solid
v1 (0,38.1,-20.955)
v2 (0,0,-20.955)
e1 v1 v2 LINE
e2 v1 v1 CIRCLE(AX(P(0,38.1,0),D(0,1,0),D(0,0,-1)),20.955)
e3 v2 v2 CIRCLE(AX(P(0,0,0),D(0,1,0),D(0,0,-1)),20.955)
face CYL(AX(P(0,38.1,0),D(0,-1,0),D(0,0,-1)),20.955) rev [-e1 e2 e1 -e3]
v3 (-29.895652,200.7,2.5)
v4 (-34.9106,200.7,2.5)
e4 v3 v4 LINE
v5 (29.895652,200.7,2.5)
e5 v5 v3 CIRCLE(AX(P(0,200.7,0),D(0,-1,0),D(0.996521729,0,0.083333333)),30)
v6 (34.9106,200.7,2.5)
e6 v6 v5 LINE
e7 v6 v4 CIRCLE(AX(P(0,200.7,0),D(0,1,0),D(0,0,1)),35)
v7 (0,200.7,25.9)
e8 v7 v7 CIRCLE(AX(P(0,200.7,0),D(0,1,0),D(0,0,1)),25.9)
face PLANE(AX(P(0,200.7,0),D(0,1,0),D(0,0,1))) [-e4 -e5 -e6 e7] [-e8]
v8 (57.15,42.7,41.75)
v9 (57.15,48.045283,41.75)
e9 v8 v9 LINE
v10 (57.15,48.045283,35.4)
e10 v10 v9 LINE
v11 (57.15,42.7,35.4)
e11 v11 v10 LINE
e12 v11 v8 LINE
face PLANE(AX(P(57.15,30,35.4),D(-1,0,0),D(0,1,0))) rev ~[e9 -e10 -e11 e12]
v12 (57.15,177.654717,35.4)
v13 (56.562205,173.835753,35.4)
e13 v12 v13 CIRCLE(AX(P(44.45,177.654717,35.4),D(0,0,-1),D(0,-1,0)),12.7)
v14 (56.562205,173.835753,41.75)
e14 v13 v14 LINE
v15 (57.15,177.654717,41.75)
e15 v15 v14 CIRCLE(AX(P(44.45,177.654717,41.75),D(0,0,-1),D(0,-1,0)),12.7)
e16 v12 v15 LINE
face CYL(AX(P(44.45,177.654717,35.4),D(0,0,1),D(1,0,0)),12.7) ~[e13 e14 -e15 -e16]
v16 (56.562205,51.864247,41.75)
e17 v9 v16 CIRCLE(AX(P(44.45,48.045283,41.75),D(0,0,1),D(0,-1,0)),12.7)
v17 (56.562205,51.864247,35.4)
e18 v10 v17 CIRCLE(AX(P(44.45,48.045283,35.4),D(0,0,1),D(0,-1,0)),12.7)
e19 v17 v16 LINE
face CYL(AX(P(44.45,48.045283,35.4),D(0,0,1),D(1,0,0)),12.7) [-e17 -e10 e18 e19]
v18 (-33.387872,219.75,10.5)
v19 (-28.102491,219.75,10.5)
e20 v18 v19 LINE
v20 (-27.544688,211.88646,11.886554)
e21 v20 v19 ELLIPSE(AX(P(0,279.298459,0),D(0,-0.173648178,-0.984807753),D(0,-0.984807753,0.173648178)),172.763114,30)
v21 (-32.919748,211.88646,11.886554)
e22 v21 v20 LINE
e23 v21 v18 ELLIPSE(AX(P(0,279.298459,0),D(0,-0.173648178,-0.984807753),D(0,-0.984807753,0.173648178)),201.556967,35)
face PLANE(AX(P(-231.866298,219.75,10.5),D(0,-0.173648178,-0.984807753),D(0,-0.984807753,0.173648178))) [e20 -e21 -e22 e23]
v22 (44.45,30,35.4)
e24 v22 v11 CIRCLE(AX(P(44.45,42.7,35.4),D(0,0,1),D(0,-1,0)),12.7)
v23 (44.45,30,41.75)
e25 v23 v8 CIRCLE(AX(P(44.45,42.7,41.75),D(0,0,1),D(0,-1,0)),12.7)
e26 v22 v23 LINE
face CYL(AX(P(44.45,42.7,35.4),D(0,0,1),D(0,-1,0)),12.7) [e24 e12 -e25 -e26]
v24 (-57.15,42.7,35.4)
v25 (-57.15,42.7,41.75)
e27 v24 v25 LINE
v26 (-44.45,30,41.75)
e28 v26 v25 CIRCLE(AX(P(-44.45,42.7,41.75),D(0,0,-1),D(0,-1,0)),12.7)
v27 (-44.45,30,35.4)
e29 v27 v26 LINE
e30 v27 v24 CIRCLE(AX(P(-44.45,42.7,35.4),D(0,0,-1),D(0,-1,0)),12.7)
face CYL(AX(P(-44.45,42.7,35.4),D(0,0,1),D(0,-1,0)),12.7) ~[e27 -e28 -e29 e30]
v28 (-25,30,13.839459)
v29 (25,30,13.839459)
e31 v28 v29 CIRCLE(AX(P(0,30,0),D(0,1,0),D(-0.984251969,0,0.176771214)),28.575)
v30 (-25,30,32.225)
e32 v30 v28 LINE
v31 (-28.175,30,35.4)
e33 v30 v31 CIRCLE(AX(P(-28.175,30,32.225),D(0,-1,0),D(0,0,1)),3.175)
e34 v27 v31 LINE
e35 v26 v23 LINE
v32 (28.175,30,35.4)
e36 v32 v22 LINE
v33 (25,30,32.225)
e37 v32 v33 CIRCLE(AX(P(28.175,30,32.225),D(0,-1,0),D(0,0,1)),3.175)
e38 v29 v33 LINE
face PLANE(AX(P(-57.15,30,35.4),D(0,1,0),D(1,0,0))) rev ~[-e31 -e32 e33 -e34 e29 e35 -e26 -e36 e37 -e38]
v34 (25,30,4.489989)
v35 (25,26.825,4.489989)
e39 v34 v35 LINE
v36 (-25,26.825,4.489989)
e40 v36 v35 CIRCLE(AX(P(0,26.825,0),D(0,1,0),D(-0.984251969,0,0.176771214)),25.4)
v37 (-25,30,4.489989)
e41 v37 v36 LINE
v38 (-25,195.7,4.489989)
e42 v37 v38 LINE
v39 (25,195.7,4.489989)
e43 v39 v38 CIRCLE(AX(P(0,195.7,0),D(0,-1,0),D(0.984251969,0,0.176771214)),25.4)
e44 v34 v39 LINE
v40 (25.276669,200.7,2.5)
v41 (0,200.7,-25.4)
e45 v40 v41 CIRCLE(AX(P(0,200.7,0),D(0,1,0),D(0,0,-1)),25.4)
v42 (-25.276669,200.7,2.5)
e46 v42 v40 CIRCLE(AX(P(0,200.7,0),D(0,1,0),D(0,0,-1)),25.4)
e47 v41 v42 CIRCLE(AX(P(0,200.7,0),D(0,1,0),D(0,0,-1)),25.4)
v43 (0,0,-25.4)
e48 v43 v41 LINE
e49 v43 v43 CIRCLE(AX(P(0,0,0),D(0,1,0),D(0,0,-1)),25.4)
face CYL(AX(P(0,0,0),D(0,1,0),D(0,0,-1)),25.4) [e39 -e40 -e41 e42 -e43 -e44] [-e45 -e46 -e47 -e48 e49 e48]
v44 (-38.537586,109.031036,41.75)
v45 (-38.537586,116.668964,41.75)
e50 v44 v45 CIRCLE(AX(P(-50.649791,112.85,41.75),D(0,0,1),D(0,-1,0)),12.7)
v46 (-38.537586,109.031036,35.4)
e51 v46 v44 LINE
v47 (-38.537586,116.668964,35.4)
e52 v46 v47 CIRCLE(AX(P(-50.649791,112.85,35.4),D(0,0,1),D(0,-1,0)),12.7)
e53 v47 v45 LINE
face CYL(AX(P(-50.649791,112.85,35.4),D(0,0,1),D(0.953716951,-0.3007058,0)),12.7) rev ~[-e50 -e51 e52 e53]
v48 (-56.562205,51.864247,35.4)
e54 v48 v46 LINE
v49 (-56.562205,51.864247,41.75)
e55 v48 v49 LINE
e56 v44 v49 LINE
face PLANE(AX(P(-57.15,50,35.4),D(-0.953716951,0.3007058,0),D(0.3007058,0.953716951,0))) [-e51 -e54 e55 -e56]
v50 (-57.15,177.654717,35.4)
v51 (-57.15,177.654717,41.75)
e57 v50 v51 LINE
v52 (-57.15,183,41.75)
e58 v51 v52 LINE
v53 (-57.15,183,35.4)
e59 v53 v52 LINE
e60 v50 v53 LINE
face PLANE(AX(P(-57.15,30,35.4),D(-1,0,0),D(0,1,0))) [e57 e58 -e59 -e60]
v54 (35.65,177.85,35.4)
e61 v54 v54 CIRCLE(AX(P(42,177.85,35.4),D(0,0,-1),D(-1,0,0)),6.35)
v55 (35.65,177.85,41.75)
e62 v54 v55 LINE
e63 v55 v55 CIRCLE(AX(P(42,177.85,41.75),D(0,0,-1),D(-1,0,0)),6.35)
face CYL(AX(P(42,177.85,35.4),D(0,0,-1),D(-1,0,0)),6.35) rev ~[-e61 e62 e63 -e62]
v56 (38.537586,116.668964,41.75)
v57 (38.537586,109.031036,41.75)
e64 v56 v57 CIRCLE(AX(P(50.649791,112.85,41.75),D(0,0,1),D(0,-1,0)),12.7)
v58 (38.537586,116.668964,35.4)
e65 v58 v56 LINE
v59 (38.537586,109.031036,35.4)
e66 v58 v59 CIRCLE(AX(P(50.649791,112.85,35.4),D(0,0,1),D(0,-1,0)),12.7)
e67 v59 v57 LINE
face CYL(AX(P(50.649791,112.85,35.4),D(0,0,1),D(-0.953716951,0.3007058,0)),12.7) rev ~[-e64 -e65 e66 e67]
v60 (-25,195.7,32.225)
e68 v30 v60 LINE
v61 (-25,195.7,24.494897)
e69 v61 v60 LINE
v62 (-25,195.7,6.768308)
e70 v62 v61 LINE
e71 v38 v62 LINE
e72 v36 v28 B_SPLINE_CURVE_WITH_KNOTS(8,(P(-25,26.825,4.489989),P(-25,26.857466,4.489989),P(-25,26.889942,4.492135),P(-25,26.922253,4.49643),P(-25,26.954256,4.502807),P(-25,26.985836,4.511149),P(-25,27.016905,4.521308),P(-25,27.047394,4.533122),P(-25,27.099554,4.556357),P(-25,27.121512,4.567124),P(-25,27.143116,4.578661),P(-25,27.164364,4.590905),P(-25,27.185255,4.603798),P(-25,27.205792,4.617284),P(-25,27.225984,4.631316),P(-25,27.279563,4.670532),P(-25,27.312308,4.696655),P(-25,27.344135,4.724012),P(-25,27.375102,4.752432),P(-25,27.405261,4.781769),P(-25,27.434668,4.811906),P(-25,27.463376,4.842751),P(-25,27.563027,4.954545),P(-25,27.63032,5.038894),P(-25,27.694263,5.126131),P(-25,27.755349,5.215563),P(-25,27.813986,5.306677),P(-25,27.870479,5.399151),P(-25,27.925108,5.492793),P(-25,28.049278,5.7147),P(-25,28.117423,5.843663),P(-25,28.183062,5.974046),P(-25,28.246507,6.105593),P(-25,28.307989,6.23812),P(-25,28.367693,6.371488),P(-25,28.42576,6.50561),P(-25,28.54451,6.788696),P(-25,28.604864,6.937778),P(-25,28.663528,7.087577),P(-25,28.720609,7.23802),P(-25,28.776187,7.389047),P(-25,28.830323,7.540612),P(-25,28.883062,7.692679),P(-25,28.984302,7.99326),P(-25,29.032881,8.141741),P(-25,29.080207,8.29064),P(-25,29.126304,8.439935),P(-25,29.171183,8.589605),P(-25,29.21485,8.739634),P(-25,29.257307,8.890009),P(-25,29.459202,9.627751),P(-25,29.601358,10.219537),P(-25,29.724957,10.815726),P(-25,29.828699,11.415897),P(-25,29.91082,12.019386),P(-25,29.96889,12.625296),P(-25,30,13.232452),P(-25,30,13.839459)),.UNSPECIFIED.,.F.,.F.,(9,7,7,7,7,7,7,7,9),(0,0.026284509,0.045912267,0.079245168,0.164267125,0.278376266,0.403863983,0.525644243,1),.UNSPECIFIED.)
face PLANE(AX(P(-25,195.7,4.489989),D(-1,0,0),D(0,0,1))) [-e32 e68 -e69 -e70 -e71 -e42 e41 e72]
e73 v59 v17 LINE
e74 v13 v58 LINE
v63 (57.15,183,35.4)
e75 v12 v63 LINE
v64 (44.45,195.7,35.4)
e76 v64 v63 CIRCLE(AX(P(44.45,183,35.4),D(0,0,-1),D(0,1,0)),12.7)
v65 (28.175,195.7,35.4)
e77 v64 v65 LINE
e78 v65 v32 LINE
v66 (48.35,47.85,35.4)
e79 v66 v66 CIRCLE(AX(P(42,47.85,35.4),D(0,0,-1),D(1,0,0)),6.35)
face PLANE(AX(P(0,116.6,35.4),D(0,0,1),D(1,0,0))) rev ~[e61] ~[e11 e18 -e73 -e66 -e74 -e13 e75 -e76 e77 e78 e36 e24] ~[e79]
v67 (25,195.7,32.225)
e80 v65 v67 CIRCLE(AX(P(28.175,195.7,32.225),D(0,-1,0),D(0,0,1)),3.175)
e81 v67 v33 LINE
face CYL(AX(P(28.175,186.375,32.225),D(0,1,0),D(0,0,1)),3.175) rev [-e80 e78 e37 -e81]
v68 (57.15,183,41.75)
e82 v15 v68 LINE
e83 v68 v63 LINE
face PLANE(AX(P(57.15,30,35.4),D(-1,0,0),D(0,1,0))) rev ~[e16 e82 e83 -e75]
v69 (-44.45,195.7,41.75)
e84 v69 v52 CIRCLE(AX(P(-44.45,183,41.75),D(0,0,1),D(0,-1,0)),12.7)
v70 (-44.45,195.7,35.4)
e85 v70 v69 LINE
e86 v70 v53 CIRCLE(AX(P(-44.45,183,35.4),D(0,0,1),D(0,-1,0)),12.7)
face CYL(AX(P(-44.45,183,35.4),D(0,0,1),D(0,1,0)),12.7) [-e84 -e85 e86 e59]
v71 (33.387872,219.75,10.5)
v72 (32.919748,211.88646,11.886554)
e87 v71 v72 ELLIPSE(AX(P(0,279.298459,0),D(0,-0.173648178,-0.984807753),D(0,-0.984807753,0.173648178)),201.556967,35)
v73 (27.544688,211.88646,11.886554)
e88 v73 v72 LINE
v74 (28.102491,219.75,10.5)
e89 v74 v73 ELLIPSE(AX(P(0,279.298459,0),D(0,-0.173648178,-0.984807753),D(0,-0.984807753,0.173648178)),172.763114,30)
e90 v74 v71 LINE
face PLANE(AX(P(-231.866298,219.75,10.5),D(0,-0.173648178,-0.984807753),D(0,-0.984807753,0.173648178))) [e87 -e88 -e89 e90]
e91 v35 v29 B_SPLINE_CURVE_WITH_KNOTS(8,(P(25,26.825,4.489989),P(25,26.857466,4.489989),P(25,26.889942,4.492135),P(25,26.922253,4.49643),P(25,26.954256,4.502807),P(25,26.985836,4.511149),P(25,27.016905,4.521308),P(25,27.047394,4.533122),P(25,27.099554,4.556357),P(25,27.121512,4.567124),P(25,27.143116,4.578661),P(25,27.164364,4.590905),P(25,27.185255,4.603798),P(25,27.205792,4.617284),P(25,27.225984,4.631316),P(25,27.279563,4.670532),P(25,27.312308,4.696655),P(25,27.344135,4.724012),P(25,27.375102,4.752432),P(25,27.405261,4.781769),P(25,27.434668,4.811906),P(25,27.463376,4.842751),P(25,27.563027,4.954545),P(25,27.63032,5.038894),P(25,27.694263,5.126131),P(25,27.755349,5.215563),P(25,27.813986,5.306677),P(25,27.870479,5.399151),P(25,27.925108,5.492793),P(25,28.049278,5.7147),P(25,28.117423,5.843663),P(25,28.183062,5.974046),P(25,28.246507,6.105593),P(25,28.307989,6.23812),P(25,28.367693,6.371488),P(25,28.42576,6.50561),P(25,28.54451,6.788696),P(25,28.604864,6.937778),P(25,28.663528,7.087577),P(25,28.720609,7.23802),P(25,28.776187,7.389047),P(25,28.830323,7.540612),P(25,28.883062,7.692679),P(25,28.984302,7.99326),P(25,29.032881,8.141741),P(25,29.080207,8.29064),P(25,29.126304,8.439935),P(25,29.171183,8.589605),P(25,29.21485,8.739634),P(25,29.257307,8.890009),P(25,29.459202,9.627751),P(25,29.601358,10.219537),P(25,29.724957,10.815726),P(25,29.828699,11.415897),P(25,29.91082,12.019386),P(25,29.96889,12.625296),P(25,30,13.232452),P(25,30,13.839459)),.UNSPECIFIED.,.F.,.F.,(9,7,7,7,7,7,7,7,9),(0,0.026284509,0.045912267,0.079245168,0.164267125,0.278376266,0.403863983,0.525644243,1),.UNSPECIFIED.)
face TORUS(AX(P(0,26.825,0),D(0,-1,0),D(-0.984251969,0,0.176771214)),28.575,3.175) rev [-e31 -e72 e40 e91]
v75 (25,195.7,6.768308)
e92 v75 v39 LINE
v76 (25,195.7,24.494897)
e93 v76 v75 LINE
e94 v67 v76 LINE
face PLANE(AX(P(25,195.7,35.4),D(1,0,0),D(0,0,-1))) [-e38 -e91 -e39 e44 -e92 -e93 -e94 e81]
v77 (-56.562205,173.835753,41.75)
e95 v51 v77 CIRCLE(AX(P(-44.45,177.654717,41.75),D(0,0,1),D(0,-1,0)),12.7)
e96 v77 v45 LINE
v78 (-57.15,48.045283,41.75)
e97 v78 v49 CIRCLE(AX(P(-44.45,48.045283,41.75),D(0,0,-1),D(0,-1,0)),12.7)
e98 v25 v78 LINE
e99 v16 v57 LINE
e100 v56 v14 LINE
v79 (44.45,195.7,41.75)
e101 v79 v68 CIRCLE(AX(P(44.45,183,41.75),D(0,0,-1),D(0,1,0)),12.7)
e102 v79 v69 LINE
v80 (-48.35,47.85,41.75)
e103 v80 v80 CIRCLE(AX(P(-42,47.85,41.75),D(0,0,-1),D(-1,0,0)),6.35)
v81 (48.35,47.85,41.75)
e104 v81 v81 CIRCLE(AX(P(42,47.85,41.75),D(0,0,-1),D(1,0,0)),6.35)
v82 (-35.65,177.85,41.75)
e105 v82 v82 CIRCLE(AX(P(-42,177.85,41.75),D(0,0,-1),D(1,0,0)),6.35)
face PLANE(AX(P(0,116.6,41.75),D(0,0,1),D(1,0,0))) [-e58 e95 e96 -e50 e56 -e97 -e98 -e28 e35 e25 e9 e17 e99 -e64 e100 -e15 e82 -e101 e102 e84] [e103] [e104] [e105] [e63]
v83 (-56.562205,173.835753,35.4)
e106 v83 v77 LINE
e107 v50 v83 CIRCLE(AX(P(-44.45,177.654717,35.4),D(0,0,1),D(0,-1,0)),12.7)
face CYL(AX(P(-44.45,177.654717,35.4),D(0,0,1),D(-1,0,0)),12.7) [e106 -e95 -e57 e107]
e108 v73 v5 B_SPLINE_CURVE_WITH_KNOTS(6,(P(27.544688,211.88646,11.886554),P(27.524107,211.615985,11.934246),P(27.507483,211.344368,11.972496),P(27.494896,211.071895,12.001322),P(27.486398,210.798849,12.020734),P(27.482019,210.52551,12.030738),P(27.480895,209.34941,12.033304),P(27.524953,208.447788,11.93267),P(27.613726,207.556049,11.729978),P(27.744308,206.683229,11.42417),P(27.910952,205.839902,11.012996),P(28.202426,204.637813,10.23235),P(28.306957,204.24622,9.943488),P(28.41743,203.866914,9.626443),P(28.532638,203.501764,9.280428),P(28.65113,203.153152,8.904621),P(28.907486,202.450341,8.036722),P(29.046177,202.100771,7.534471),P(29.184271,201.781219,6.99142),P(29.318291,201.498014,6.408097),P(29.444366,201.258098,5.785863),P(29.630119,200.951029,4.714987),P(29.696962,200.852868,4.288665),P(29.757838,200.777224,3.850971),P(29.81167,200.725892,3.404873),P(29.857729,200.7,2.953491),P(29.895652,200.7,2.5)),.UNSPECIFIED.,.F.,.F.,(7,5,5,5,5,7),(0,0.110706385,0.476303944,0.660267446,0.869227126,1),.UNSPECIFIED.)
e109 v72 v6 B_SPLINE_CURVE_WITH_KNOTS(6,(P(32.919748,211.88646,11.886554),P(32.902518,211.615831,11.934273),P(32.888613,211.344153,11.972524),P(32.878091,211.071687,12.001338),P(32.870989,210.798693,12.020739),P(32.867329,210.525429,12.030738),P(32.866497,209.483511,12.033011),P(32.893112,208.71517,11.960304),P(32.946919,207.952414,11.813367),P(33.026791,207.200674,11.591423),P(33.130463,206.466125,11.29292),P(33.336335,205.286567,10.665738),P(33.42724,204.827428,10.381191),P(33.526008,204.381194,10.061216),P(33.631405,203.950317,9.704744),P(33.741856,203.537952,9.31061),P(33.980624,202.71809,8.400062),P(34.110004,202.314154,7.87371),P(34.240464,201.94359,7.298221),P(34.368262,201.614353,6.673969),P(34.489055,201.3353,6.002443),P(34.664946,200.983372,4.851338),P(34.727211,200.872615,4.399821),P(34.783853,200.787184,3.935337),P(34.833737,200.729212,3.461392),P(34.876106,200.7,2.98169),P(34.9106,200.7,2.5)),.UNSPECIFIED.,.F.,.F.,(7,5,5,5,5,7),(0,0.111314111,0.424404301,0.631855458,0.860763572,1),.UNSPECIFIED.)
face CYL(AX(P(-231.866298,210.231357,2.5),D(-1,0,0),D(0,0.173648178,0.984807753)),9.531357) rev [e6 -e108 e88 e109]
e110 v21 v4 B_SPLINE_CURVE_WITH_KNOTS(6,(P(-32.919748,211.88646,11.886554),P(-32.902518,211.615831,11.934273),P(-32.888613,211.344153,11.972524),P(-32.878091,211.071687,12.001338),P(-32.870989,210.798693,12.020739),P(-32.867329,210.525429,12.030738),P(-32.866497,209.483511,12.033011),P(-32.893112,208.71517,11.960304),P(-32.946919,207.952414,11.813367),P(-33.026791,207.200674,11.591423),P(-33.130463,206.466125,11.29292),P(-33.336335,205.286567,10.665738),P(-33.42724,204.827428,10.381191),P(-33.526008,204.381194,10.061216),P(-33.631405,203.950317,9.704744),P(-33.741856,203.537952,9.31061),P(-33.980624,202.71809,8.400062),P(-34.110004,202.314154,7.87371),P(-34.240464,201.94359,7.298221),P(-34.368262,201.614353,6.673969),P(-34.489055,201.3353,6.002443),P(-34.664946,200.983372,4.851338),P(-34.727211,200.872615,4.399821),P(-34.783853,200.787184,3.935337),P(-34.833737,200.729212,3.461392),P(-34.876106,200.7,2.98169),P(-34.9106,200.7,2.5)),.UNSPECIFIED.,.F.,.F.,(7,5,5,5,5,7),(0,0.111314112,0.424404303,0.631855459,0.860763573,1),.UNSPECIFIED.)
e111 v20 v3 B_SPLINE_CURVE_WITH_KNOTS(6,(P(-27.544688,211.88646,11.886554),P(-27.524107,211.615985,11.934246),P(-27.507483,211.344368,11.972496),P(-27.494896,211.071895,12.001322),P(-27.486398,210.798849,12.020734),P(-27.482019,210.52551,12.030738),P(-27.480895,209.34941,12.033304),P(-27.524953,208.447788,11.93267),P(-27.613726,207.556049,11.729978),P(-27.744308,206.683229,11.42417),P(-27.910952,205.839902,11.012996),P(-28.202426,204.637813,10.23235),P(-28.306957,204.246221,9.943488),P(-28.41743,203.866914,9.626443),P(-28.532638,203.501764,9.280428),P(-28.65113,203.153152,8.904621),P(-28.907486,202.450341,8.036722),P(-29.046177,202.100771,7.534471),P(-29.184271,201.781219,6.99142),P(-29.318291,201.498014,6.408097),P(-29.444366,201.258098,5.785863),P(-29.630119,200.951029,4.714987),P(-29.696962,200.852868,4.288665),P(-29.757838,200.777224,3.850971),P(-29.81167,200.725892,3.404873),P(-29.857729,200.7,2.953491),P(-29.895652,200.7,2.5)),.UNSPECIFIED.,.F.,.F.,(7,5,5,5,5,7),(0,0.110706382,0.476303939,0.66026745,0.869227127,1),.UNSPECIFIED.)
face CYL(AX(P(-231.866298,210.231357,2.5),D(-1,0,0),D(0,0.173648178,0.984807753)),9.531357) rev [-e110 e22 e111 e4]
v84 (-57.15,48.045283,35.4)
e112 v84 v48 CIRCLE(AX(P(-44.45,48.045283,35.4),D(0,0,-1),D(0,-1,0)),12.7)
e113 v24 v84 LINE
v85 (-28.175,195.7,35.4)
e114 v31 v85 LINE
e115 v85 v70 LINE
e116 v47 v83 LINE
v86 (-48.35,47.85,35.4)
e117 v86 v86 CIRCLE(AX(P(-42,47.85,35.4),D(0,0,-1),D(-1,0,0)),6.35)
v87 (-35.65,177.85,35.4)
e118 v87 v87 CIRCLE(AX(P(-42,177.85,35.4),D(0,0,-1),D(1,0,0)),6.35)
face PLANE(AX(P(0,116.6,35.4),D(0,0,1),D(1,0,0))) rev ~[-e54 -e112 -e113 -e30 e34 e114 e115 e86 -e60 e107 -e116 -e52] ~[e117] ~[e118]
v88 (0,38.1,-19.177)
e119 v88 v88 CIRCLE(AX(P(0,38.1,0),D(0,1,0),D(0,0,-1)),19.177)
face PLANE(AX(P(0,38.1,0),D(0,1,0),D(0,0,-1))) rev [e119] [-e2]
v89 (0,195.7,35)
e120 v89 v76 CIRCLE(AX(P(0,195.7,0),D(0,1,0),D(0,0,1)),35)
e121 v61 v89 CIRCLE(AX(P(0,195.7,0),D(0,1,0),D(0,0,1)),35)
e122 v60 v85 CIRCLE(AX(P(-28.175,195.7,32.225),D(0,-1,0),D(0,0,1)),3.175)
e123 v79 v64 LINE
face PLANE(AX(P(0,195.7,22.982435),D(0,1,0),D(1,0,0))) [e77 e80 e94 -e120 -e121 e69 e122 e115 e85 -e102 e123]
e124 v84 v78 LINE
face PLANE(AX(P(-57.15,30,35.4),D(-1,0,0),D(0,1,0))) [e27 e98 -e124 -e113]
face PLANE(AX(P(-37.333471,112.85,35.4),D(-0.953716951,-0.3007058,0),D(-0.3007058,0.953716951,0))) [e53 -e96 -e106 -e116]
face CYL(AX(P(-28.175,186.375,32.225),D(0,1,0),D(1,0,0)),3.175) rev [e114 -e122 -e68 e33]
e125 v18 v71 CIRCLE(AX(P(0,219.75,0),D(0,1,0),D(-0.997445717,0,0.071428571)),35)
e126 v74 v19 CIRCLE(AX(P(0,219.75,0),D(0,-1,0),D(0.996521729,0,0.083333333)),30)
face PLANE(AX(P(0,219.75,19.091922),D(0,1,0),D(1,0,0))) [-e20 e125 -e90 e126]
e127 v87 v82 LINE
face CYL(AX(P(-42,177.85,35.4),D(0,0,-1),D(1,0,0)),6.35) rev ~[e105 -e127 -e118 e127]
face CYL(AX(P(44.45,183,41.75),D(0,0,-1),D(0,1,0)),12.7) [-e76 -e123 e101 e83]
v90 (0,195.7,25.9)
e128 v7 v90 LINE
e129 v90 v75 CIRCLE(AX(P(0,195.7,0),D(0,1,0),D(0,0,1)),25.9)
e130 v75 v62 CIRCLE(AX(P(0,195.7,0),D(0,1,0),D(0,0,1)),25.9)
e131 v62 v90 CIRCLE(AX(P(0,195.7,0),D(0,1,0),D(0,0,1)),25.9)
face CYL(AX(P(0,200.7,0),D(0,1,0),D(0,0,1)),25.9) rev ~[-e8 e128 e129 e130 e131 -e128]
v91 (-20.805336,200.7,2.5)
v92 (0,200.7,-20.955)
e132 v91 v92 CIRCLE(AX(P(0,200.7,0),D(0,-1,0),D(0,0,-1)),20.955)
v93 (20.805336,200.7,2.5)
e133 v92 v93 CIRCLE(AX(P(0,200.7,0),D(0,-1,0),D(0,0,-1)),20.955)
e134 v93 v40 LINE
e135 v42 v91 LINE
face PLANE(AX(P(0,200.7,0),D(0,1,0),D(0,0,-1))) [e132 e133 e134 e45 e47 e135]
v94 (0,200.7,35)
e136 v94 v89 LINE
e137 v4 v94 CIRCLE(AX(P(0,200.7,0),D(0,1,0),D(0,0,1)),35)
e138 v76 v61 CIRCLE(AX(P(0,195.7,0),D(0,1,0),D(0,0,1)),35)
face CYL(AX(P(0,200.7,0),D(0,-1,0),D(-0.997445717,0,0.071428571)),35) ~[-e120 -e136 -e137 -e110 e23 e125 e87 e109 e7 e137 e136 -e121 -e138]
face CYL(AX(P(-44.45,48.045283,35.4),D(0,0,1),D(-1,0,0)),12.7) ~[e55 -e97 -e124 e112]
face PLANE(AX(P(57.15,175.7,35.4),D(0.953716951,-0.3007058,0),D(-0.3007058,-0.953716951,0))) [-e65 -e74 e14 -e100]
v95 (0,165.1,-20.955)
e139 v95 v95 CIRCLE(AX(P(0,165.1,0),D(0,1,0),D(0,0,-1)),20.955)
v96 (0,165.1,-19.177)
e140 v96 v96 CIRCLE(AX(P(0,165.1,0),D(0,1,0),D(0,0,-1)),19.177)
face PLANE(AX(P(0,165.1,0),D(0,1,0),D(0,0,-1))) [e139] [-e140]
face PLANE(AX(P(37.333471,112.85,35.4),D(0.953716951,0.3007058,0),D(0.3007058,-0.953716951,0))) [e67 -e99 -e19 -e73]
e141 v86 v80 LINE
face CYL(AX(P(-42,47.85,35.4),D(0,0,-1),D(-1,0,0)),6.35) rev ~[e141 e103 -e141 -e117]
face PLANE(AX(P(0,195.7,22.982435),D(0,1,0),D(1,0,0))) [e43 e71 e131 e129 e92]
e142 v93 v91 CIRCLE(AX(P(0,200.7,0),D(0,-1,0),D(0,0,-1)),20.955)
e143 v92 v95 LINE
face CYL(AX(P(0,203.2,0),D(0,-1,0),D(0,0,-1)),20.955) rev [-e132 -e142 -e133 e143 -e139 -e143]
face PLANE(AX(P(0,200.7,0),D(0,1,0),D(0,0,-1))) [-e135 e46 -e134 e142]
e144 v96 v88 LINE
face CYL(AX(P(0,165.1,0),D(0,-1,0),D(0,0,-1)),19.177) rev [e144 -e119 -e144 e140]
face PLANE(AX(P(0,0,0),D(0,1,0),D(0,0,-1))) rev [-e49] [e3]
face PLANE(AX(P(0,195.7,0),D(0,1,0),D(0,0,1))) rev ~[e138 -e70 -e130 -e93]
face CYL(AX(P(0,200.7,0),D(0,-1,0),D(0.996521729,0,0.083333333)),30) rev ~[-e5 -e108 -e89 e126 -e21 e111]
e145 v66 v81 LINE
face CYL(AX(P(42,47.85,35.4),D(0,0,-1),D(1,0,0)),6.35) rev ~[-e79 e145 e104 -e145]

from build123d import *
from build123d.topology import SkipClean

# Parameters (mm, degrees)
BOSS_EXTRUDE1_DEPTH      = 3.175
BOSS_EXTRUDE4_START      = 150.025
BOSS_EXTRUDE4_DEPTH      = 150.025
BOSS_EXTRUDE5_START      = 3.175
BOSS_EXTRUDE5_DEPTH      = 3.175
SKETCH18_W               = 114.3
SKETCH18_H               = 173.2
BOSS_EXTRUDE6_DEPTH      = 6.35
BOSS_EXTRUDE9_DEPTH      = 1.5875
BOSS_EXTRUDE9_DEPTH_BACK = 1.5875
SKETCH26_R               = 35
SKETCH26_R_2             = 25.899999994
BOSS_EXTRUDE7_DEPTH      = 5
BOSS_EXTRUDE8_DEPTH      = 19.05
CUT_EXTRUDE3_DEPTH       = 231.866297886
CUT_EXTRUDE3_DEPTH_BACK  = 231.866297886
BOSS_EXTRUDE10_START     = 150.025
BOSS_EXTRUDE10_DEPTH     = 150.025
BOSS_EXTRUDE11_START     = 9.325
BOSS_EXTRUDE11_DEPTH     = 9.325
SKETCH36_W               = 6.35
SKETCH36_H               = 7.5
CUT_EXTRUDE4_DEPTH       = 252.192386516
FILLET1_R                = 3.175
CUT_EXTRUDE5_DEPTH       = 238.723253055
FILLET2_R                = 12.7
SKETCH38_R               = 6.35
CUT_EXTRUDE6_DEPTH       = 238.723253055
SKETCH41_R               = 25.399999994
CUT_EXTRUDE8_DEPTH       = 213.813709708


with BuildPart() as part:
    # Sketch12 → Revolve1 (revolve)
    with BuildSketch(Plane.XY, mode=Mode.PRIVATE) as revolve1_sk:
        Polygon((-25.399999994, 0), (-25.399999994, 203.2), (-20.955, 203.2), (-20.955, 165.1), (-19.177, 165.1), (-19.177, 38.1), (-20.955, 38.1), (-20.955, 0), align=None)
    revolve(revolve1_sk.sketch.rotate(Axis((0, 0, 0), (0, 1, 0)), 270), axis=Axis((0, 0, 0), (0, 1, 0)))



with BuildPart() as body_2:
    # Sketch14 → Boss-Extrude1 (new body)
    with BuildSketch(Plane(origin=(0, 30, 0), x_dir=(-1, 0, 0), z_dir=(0, -1, 0))):
        with BuildLine():
            Line((-25, -4.489988829), (-25, -35.399999994))
            Line((-25, -35.399999994), (25, -35.399999994))
            Line((25, -35.399999994), (25, -4.489988829))
            ThreePointArc((25, -4.489988829), (0, -25.399999994), (-25, -4.489988829))
        make_face()
    extrude(amount=-BOSS_EXTRUDE1_DEPTH)

    # Sketch15 → Boss-Extrude4 (add)
    with BuildSketch(Plane(origin=(0, 33.175, 0), x_dir=(1, 0, 0), z_dir=(0, 1, 0)).offset(BOSS_EXTRUDE4_START)):
        with BuildLine():
            Line((-1.5875, -25.350342077), (-1.5875, -35.399999994))
            Line((-1.5875, -35.399999994), (1.5875, -35.399999994))
            Line((1.5875, -35.399999994), (1.5875, -25.350342077))
            ThreePointArc((1.5875, -25.350342077), (0, -25.399999994), (-1.5875, -25.350342077))
        make_face()
    extrude(amount=-BOSS_EXTRUDE4_DEPTH)

    # Sketch17 → Boss-Extrude5 (add)
    with BuildSketch(Plane(origin=(0, 183.2, 0), x_dir=(1, 0, 0), z_dir=(0, 1, 0)).offset(BOSS_EXTRUDE5_START)):
        with BuildLine():
            Line((25, -35.399999994), (25, -4.489988829))
            ThreePointArc((25, -4.489988829), (0, -25.399999994), (-25, -4.489988829))
            Line((-25, -4.489988829), (-25, -35.399999994))
            Line((-25, -35.399999994), (25, -35.399999994))
        make_face()
    extrude(amount=-BOSS_EXTRUDE5_DEPTH)

    # Sketch18 → Boss-Extrude6 (add)
    with BuildSketch(Plane.XY.offset(35.399999994)):
        with Locations((0, 116.6)):
            Rectangle(SKETCH18_W, SKETCH18_H)
    extrude(amount=BOSS_EXTRUDE6_DEPTH)


with BuildPart() as part_1:
    add(part.part)

    add(body_2.part)  # Boss-Extrude9 merges body 2
    # Sketch30 → Boss-Extrude9 (add, two sides: drawn at the far end of the back side and taken through both)
    with BuildSketch(Plane(origin=(0, 106.6, 0), x_dir=(-1, 0, 0), z_dir=(0, -1, 0)).offset(-BOSS_EXTRUDE9_DEPTH_BACK)):
        with BuildLine():
            Line((25, -35.399999994), (25, -4.489988829))
            ThreePointArc((25, -4.489988829), (0, -25.399999994), (-25, -4.489988829))
            Line((-25, -4.489988829), (-25, -35.399999994))
            Line((-25, -35.399999994), (25, -35.399999994))
        make_face()
    extrude(amount=BOSS_EXTRUDE9_DEPTH + BOSS_EXTRUDE9_DEPTH_BACK)


with BuildPart() as body_2_2:
    # Sketch26 → Boss-Extrude7 (new body)
    with BuildSketch(Plane(origin=(0, 200.7, 0), x_dir=(1, 0, 0), z_dir=(0, 1, 0))):
        with Locations(Location((0, 0, 0), (0, 0, 270))):
            Circle(SKETCH26_R)
        with Locations(Location((0, 0, 0), (0, 0, 270))):
            Circle(SKETCH26_R_2, mode=Mode.SUBTRACT)
    extrude(amount=-BOSS_EXTRUDE7_DEPTH)

    # Sketch26<3> → Boss-Extrude8 (add)
    with SkipClean():  # the faces are left unmerged after this step: merging them gives an invalid solid
        with BuildSketch(Plane(origin=(0, 200.7, 0), x_dir=(1, 0, 0), z_dir=(0, 1, 0))):
            with BuildLine():
                ThreePointArc((-34.910600109, -2.5), (0, -35), (34.910600109, -2.5))
                Line((34.910600109, -2.5), (29.895651858, -2.5))
                ThreePointArc((29.895651858, -2.5), (0, -30), (-29.895651858, -2.5))
                Line((-29.895651858, -2.5), (-34.910600109, -2.5))
            make_face()
        extrude(amount=BOSS_EXTRUDE8_DEPTH)


with BuildPart() as cut_extrude3_tool:
    # Sketch33 → Cut-Extrude3 (new, two sides: drawn at the far end of the back side and taken through both)
    with SkipClean():  # the faces are left unmerged after this step: merging them gives an invalid solid
        with BuildSketch(Plane(origin=(0, 0, 0), x_dir=(0, 0, -1), z_dir=(1, 0, 0)).offset(-CUT_EXTRUDE3_DEPTH_BACK)):
            with BuildLine():
                Line((-2.5, 219.75), (-2.99214107, 219.75))
                Line((-2.99214107, 219.75), (-10.5, 219.75))
                Line((-10.5, 219.75), (-11.8865543, 211.886459809))
                ThreePointArc((-11.8865543, 211.886459809), (-9.801443088, 204.104718827), (-2.5, 200.7))
                Line((-2.5, 200.7), (-2.5, 219.75))
            make_face()
        extrude(amount=CUT_EXTRUDE3_DEPTH + CUT_EXTRUDE3_DEPTH_BACK)


with BuildPart() as part_2:
    with SkipClean():  # the faces are left unmerged after this step: merging them gives an invalid solid
        add(part_1.part)

        # Cut-Extrude3: cut by cut_extrude3_tool
        add(cut_extrude3_tool.part, mode=Mode.SUBTRACT)

    # Sketch34 → Boss-Extrude10 (add)
    with BuildSketch(Plane(origin=(0, 33.175, 0), x_dir=(1, 0, 0), z_dir=(0, 1, 0)).offset(BOSS_EXTRUDE10_START)):
        with BuildLine():
            Line((-25, -35.399999994), (-1.5875, -35.399999994))
            Line((-1.5875, -35.399999994), (-1.5875, -25.350342077))
            ThreePointArc((-1.5875, -25.350342077), (-16.897111394, -18.964377823), (-25, -4.489988829))
            Line((-25, -4.489988829), (-25, -35.399999994))
        make_face()
        with BuildLine():
            Line((1.5875, -25.350342077), (1.5875, -35.399999994))
            Line((1.5875, -35.399999994), (25, -35.399999994))
            Line((25, -35.399999994), (25, -4.489988829))
            ThreePointArc((25, -4.489988829), (16.897111394, -18.964377823), (1.5875, -25.350342077))
        make_face()
    extrude(amount=-BOSS_EXTRUDE10_DEPTH)



with BuildPart() as body_2_2_1:
    with SkipClean():  # the faces are left unmerged after this step: merging them gives an invalid solid
        add(body_2_2.part)

        # Cut-Extrude3: cut by cut_extrude3_tool
        add(cut_extrude3_tool.part, mode=Mode.SUBTRACT)


with BuildPart() as part_3:
    with SkipClean():  # the faces are left unmerged after this step: merging them gives an invalid solid
        add(part_2.part)

        add(body_2_2_1.part)  # Boss-Extrude11 merges body 2 2
        # Sketch35 → Boss-Extrude11 (add)
        with BuildSketch(Plane(origin=(0, 186.375, 0), x_dir=(1, 0, 0), z_dir=(0, 1, 0)).offset(BOSS_EXTRUDE11_START)):
            with BuildLine():
                Line((-25, -35.399999994), (25, -35.399999994))
                Line((25, -35.399999994), (25, -4.489988829))
                ThreePointArc((25, -4.489988829), (0, -25.399999994), (-25, -4.489988829))
                Line((-25, -4.489988829), (-25, -35.399999994))
            make_face()
        extrude(amount=-BOSS_EXTRUDE11_DEPTH)

    # Sketch36 → Cut-Extrude4 (cut, through all)
    with SkipClean():  # the faces are left unmerged after this step: merging them gives an invalid solid
        with BuildSketch(Plane(origin=(57.15, 0, 0), x_dir=(0, 0, -1), z_dir=(1, 0, 0))):
            with Locations((-38.574999994, 199.45)):
                Rectangle(SKETCH36_W, SKETCH36_H)
        extrude(amount=-CUT_EXTRUDE4_DEPTH, mode=Mode.SUBTRACT)

    # Fillet1
    fillet1_edges = [part_3.edges().sort_by_distance(p)[0] for p in [
        (-25, 112.85, 35.399999994),
        (25, 112.85, 35.399999994),
        (0, 30, 25.399999994),
    ]]
    fillet(fillet1_edges, radius=FILLET1_R)

    # Sketch37 → Cut-Extrude5 (cut, through all)
    with SkipClean():  # the faces are left unmerged after this step: merging them gives an invalid solid
        with BuildSketch(Plane(origin=(0, 0, 35.399999994), x_dir=(-1, 0, 0), z_dir=(0, 0, -1))):
            Polygon((-57.15, 175.7), (-37.333471119, 112.85), (-57.15, 50), align=None)
            Polygon((57.15, 50), (37.333471119, 112.85), (57.15, 175.7), align=None)
        extrude(amount=-CUT_EXTRUDE5_DEPTH, mode=Mode.SUBTRACT)

    # Fillet2
    fillet2_edges = [part_3.edges().sort_by_distance(p)[0] for p in [
        (-57.15, 195.7, 38.574999994),
        (57.15, 195.7, 38.574999994),
        (-57.15, 50, 38.574999994),
        (-37.333471119, 112.85, 38.574999994),
        (-57.15, 175.7, 38.574999994),
        (37.333471119, 112.85, 38.574999994),
        (57.15, 50, 38.574999994),
        (57.15, 175.7, 38.574999994),
        (-57.15, 30, 38.574999994),
        (57.15, 30, 38.574999994),
    ]]
    fillet(fillet2_edges, radius=FILLET2_R)

    # Sketch38 → Cut-Extrude6 (cut, through all)
    with SkipClean():  # the faces are left unmerged after this step: merging them gives an invalid solid
        with BuildSketch(Plane(origin=(0, 0, 35.399999994), x_dir=(-1, 0, 0), z_dir=(0, 0, -1))):
            with Locations((-42, 177.85)):
                Circle(SKETCH38_R)
            with Locations(Location((42, 177.85, 0), (0, 0, 180))):
                Circle(SKETCH38_R)
            with Locations((42, 47.85)):
                Circle(SKETCH38_R)
            with Locations(Location((-42, 47.85, 0), (0, 0, 180))):
                Circle(SKETCH38_R)
        extrude(amount=-CUT_EXTRUDE6_DEPTH, mode=Mode.SUBTRACT)

    # Sketch41 → Cut-Extrude8 (cut, through all)
    with SkipClean():  # the faces are left unmerged after this step: merging them gives an invalid solid
        with BuildSketch(Plane(origin=(0, 200.7, 0), x_dir=(1, 0, 0), z_dir=(0, 1, 0))):
            with Locations(Location((0, 0, 0), (0, 0, 90))):
                Circle(SKETCH41_R)
        extrude(amount=CUT_EXTRUDE8_DEPTH, mode=Mode.SUBTRACT)


solid = part_3.part
